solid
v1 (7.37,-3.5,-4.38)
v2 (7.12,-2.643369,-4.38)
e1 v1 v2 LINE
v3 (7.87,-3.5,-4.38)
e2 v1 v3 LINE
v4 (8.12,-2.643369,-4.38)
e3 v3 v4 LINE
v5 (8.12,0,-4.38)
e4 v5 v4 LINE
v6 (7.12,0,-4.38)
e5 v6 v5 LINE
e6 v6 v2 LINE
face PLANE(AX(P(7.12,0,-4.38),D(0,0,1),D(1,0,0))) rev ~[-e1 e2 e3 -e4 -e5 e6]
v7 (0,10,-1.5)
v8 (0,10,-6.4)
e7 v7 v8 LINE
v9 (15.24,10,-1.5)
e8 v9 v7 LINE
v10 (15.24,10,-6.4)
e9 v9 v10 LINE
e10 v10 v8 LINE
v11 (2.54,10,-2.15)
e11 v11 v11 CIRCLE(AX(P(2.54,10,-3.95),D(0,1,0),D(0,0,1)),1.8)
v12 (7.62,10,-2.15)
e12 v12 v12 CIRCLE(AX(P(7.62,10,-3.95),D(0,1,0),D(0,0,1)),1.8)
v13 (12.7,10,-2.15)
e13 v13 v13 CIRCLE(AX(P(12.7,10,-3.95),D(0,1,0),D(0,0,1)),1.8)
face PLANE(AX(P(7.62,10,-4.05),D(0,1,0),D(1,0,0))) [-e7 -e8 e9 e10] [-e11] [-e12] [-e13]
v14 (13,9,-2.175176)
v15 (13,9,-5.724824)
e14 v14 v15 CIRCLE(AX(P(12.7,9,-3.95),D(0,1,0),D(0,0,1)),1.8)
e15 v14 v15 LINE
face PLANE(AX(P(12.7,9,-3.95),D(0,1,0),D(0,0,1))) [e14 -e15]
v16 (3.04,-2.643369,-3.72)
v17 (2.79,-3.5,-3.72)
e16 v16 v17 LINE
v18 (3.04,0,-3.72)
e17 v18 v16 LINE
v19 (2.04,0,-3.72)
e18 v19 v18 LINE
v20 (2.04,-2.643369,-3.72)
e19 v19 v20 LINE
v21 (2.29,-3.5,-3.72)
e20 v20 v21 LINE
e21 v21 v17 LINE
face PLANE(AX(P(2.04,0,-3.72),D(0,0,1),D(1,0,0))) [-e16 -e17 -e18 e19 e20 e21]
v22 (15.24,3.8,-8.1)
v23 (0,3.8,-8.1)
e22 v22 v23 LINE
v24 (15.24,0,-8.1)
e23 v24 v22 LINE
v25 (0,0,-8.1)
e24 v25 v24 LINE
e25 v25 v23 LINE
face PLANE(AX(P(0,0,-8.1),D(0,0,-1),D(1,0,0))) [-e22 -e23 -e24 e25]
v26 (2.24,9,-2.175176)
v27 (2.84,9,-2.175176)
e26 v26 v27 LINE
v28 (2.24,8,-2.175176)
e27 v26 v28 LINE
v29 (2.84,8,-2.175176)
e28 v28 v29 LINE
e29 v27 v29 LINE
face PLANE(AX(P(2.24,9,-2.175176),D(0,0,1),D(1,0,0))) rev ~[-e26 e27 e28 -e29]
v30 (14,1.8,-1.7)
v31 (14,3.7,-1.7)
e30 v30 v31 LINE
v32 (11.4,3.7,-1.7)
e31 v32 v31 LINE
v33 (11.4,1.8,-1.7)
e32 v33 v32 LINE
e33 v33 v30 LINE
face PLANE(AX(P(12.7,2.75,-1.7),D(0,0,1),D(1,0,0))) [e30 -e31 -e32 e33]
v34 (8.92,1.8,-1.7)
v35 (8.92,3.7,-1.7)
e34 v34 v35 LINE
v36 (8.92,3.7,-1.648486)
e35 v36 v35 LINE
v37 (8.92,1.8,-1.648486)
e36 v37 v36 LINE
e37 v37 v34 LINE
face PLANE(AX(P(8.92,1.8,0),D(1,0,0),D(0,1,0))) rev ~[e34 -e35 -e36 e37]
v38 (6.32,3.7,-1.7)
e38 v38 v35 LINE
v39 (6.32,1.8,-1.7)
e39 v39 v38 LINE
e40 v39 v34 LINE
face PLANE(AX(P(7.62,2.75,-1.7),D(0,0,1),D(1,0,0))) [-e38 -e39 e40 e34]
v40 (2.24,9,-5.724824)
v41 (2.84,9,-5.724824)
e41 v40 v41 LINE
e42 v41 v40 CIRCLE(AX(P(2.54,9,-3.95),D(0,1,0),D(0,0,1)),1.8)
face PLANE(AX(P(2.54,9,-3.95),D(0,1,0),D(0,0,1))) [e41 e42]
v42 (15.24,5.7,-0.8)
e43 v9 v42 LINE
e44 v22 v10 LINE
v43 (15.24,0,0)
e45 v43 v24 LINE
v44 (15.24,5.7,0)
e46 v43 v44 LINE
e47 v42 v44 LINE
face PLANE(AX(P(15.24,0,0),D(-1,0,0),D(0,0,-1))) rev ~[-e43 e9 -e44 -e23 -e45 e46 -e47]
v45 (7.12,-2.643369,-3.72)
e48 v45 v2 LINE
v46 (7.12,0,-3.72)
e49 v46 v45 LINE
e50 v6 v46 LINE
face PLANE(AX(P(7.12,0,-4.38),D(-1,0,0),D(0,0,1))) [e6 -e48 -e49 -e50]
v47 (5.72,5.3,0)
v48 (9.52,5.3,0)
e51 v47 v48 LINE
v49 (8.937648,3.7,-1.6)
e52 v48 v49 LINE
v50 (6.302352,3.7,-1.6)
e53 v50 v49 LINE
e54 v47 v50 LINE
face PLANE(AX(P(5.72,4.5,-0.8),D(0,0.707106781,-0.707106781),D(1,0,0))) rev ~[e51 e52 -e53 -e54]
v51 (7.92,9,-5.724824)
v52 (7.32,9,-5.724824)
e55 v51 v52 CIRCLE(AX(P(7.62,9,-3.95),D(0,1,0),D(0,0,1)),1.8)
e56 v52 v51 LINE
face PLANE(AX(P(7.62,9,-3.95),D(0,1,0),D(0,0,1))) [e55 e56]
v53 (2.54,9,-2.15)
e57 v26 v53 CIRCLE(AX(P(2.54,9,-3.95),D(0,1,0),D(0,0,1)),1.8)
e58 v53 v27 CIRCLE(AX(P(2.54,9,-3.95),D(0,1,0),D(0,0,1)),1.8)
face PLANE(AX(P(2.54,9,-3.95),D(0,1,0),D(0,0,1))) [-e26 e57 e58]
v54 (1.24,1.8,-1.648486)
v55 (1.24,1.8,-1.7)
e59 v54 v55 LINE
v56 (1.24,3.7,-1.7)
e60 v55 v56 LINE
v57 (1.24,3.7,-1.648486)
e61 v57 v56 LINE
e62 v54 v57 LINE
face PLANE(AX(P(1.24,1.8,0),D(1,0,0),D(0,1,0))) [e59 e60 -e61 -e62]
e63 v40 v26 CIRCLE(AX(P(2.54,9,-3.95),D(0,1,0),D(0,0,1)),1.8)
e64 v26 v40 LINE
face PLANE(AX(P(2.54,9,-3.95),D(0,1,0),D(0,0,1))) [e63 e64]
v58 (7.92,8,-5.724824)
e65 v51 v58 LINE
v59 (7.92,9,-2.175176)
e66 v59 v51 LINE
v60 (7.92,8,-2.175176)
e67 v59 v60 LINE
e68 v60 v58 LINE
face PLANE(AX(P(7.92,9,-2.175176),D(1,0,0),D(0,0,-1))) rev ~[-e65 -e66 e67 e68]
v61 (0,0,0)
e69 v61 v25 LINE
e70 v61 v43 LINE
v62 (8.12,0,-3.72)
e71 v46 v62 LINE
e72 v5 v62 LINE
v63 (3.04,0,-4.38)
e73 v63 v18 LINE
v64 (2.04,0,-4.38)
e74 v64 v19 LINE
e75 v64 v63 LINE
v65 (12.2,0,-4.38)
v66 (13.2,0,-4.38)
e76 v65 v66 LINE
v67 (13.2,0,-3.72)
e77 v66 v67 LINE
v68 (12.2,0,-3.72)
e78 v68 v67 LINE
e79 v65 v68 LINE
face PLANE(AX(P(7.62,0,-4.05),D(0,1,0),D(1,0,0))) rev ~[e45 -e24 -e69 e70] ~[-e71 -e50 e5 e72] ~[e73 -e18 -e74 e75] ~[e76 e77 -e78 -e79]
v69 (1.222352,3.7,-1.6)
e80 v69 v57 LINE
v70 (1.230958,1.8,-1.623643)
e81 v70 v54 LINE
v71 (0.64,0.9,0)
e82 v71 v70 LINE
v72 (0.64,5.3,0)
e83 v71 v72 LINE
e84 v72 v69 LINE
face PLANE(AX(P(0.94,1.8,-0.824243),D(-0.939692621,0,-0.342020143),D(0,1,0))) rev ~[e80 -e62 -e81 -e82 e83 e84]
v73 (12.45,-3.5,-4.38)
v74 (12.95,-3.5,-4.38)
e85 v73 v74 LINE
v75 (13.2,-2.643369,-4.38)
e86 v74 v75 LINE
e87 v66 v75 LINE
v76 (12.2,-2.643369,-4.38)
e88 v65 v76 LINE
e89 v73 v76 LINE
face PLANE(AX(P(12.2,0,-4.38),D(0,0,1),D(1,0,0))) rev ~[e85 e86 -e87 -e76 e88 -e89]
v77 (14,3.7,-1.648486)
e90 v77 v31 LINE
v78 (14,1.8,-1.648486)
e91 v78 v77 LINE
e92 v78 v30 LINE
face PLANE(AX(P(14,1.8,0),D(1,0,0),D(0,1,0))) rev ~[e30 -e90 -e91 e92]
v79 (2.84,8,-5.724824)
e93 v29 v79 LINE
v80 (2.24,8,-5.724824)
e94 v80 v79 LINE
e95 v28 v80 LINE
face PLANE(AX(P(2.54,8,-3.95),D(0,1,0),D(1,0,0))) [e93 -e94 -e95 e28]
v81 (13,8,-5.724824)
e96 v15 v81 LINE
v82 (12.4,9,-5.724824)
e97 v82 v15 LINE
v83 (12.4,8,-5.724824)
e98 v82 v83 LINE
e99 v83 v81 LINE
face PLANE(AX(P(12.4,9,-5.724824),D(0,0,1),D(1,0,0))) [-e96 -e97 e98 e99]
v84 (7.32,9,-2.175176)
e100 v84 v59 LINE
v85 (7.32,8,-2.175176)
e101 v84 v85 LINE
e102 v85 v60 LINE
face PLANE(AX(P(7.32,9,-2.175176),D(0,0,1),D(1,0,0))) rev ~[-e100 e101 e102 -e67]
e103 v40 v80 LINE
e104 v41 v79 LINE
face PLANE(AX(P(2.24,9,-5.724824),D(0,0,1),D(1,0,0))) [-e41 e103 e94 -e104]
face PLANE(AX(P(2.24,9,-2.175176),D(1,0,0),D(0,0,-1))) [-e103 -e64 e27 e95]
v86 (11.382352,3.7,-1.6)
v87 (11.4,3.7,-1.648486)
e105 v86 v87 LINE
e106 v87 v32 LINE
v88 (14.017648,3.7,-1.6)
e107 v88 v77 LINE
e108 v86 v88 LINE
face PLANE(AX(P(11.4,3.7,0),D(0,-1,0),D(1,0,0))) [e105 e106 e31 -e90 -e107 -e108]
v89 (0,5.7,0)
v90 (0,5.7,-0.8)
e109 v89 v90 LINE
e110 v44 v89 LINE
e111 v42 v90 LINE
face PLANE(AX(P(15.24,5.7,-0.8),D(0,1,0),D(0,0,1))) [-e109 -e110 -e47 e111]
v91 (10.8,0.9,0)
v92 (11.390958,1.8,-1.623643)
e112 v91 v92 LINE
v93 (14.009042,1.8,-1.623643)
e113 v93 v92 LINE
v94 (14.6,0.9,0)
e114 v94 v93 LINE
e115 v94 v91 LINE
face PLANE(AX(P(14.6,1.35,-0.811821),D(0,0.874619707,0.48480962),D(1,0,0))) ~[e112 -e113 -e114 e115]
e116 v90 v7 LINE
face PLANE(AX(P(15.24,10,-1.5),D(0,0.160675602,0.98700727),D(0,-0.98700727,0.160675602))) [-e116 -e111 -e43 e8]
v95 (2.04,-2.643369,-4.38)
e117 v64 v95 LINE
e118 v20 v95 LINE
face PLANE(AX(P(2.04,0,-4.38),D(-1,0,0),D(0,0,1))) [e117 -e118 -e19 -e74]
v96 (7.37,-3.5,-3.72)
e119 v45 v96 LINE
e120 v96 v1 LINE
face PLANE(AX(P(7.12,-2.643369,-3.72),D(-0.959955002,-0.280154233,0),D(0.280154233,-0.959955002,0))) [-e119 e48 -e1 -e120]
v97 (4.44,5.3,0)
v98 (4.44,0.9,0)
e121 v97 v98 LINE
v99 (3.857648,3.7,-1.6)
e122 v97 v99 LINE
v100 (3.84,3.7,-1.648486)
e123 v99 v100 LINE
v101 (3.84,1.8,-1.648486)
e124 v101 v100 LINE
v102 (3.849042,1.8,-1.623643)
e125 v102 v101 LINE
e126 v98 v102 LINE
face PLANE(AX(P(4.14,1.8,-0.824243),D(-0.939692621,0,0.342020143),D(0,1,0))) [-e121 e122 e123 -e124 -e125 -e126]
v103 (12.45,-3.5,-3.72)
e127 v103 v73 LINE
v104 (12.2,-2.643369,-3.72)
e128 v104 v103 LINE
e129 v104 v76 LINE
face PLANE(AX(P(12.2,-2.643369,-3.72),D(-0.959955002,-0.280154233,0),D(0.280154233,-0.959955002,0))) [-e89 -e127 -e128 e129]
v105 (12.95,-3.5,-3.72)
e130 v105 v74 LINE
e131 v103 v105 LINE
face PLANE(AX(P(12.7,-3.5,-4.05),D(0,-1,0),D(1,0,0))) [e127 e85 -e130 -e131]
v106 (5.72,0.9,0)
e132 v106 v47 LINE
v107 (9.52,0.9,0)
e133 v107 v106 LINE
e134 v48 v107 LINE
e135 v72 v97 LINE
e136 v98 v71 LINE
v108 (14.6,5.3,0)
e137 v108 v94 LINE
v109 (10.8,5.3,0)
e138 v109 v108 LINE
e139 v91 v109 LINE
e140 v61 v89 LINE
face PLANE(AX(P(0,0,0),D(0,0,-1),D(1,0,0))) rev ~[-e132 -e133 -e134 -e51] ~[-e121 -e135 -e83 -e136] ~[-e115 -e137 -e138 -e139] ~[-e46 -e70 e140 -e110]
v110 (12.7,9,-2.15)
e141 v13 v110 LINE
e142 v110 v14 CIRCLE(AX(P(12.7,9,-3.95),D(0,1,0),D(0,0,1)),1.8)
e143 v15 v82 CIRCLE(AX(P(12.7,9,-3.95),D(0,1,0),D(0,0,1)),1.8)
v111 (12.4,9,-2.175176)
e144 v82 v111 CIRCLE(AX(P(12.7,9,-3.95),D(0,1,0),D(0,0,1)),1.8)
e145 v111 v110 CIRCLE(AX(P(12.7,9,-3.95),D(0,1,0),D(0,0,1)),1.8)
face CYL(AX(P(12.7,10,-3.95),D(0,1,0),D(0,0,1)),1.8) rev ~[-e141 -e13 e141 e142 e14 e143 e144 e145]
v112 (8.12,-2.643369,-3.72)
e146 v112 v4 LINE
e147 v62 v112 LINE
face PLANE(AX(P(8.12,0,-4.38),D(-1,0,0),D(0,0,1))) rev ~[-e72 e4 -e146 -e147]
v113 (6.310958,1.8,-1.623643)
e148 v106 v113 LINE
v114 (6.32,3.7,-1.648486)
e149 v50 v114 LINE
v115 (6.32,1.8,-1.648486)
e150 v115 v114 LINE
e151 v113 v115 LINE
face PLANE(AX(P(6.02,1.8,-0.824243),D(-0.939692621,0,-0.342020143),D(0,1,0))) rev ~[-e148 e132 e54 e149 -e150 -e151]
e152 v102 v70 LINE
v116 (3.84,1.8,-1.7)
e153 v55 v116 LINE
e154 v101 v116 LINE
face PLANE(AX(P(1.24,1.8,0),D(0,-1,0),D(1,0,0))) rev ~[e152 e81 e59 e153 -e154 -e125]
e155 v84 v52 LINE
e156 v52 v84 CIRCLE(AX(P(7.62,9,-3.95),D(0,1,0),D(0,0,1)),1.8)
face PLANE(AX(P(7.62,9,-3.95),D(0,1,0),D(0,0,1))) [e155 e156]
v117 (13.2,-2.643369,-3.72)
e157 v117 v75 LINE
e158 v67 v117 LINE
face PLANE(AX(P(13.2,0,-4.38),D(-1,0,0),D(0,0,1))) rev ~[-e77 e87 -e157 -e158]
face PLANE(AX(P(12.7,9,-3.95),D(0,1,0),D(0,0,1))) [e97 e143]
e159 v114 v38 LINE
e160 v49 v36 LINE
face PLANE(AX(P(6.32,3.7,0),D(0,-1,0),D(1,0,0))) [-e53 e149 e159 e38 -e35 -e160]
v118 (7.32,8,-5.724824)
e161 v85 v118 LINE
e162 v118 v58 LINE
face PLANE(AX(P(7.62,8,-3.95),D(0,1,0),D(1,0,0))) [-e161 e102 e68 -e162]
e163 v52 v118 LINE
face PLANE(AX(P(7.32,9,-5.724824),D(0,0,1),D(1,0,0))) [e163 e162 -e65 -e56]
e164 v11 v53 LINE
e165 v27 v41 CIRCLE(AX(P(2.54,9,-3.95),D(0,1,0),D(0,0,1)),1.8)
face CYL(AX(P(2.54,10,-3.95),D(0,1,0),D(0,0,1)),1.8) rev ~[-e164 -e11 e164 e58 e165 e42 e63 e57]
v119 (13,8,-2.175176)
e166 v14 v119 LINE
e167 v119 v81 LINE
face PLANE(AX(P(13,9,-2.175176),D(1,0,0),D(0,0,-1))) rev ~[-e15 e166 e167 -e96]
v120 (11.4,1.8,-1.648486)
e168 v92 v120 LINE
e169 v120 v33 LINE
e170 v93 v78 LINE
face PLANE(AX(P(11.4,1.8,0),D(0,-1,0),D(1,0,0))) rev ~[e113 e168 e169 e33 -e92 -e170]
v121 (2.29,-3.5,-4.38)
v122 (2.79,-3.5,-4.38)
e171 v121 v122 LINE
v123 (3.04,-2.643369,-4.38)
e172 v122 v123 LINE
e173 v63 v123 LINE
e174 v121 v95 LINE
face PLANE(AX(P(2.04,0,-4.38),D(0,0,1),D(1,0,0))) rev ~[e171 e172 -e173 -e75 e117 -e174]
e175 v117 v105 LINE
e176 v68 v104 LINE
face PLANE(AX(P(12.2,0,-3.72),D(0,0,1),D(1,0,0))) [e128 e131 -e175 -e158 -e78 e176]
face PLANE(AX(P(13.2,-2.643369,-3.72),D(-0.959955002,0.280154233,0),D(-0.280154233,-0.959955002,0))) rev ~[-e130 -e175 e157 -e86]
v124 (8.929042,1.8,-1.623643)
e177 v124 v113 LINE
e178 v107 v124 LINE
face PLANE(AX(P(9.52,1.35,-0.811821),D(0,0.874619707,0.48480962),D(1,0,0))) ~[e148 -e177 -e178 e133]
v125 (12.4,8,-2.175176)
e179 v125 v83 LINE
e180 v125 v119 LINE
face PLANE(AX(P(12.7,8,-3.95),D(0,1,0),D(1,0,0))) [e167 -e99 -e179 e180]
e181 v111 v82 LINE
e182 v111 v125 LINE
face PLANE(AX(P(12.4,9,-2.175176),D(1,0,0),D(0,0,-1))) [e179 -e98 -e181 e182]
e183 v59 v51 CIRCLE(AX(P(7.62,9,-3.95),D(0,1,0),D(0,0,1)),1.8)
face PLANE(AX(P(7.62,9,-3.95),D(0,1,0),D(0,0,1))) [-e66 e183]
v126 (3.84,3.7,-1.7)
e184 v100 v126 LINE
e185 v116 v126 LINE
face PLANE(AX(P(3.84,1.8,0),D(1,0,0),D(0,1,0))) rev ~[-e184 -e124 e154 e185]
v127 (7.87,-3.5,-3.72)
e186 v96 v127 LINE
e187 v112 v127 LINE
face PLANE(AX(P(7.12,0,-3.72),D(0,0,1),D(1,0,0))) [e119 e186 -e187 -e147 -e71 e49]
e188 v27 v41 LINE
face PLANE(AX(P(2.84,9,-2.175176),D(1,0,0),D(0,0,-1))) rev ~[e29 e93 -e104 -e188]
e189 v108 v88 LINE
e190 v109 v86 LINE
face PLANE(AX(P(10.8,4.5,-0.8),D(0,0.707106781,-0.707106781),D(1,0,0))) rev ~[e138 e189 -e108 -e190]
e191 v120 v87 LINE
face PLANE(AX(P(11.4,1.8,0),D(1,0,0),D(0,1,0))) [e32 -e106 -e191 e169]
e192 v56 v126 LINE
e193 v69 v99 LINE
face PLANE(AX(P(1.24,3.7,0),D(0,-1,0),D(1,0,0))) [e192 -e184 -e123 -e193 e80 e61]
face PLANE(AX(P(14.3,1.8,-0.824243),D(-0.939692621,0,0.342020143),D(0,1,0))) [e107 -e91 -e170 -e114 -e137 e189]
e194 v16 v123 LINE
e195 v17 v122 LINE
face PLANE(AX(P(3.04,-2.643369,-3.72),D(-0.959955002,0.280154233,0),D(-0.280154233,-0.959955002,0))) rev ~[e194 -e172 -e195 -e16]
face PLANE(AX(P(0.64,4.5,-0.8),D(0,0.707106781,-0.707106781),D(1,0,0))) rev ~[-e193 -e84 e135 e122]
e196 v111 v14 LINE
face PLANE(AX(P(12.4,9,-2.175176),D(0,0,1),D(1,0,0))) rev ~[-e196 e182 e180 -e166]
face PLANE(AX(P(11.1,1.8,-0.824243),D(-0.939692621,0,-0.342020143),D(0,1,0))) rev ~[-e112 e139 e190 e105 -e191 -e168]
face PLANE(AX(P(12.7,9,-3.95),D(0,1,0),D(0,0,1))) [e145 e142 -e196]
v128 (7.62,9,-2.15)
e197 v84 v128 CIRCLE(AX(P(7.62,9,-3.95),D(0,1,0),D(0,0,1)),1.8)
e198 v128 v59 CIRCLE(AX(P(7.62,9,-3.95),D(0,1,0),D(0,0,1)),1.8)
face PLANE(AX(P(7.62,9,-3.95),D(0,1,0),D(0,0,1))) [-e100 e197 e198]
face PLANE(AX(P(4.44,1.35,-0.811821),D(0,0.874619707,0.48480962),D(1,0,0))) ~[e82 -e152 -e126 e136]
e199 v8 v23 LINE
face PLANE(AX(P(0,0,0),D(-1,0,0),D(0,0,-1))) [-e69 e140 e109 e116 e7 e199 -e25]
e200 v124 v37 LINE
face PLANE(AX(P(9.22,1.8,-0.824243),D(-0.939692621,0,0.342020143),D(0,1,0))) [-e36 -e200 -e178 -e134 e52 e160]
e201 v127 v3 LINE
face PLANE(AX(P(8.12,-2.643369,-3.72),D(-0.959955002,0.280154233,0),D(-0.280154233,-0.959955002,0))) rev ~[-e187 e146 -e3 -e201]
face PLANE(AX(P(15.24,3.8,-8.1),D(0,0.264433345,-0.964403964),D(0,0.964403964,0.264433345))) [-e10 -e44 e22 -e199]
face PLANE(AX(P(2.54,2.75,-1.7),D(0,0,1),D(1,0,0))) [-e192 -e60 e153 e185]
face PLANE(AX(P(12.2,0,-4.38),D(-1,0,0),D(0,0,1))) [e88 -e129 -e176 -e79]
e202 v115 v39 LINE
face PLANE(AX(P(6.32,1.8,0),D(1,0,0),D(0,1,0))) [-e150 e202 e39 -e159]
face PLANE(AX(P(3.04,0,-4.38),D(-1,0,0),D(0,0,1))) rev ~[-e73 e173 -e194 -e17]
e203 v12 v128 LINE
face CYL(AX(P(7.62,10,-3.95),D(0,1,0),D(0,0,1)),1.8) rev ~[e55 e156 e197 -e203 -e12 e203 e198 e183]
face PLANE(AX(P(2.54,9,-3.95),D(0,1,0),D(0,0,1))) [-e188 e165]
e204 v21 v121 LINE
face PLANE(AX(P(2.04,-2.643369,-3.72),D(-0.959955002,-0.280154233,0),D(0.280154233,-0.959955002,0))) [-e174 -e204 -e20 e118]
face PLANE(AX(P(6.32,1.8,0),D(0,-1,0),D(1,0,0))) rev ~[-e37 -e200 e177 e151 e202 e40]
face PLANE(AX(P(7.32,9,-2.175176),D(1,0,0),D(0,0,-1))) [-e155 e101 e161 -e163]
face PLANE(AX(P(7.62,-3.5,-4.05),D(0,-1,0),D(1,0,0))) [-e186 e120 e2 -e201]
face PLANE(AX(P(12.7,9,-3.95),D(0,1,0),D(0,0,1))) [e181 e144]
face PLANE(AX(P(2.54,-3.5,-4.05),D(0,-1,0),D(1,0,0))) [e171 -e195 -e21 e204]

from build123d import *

# Parameters (mm, degrees)
SKETCH1_W                   = 15.24
SKETCH1_H                   = 8.1
BOSS_EXTRUDE1_DEPTH         = 10
CUT_EXTRUDE1_DEPTH          = 20.946618761
CUT_EXTRUDE2_DEPTH          = 20.946618761
SKETCH4_W                   = 1
SKETCH4_H                   = 0.66
BOSS_EXTRUDE2_DEPTH         = 3.5
CUT_EXTRUDE3_REACH          = 20.747
LPATTERN1_COUNT             = 3
LPATTERN1_PITCH             = 5.08
SKETCH6_W                   = 2.6
SKETCH6_H                   = 1.9
CUT_EXTRUDE4_DEPTH          = 1.7
CHAMFER1_SIZE               = 0.6
CHAMFER1_SIZE2              = 1.648486452
CHAMFER2_SIZE               = 0.6
CHAMFER2_SIZE2              = 1.648486452
CHAMFER3_SIZE               = 1.6
CHAMFER4_SIZE               = 0.9
CHAMFER4_SIZE2              = 1.62364298
LPATTERN2_COUNT             = 3
LPATTERN2_PITCH             = 5.08
CHAMFER1_OF_LPATTERN2_SIZE2 = 1.648486452
CHAMFER1_OF_LPATTERN2_SIZE  = 0.6
CHAMFER2_OF_LPATTERN2_SIZE2 = 1.648486452
CHAMFER2_OF_LPATTERN2_SIZE  = 0.6
CHAMFER3_OF_LPATTERN2_SIZE  = 1.6
CHAMFER4_OF_LPATTERN2_SIZE2 = 1.62364298
CHAMFER4_OF_LPATTERN2_SIZE  = 0.9
SKETCH7_R                   = 1.8
CUT_EXTRUDE5_DEPTH          = 1
SKETCH8_W                   = 0.6
SKETCH8_H                   = 3.54964787
CUT_EXTRUDE6_DEPTH          = 1
LPATTERN3_COUNT             = 3
LPATTERN3_PITCH             = 5.08


with BuildPart() as part:
    # Sketch1 → Boss-Extrude1 (new body)
    with BuildSketch(Plane(origin=(0, 0, 0), x_dir=(1, 0, 0), z_dir=(0, 1, 0))):
        with Locations((7.62, 4.05)):
            Rectangle(SKETCH1_W, SKETCH1_H)
    extrude(amount=BOSS_EXTRUDE1_DEPTH)

    # Sketch2 → Cut-Extrude1 (cut, through all)
    with BuildSketch(Plane(origin=(15.24, 0, 0), x_dir=(0, 0, -1), z_dir=(1, 0, 0))):
        Polygon((0, 10), (1.5, 10), (0.8, 5.7), (0, 5.7), align=None)
    extrude(amount=-CUT_EXTRUDE1_DEPTH, mode=Mode.SUBTRACT)

    # Sketch3 → Cut-Extrude2 (cut, through all)
    with BuildSketch(Plane(origin=(15.24, 0, 0), x_dir=(0, 0, -1), z_dir=(1, 0, 0))):
        Polygon((8.1, 3.8), (6.4, 10), (8.1, 10), align=None)
    extrude(amount=-CUT_EXTRUDE2_DEPTH, mode=Mode.SUBTRACT)

    # Sketch4 → Boss-Extrude2 (add)
    with BuildSketch(Plane.XZ):
        with Locations((2.54, -4.05)):
            Rectangle(SKETCH4_W, SKETCH4_H)
    boss_extrude2 = extrude(amount=BOSS_EXTRUDE2_DEPTH)

    # Sketch5 → Cut-Extrude3 (cut, up to next)
    with BuildSketch(Plane.XY.offset(-3.72), mode=Mode.PRIVATE) as cut_extrude3_sk1:
        Polygon((2.04, -2.643369181), (2.29, -3.5), (2.04, -3.5), align=None)
    cut_extrude3_tool1 = extrude(cut_extrude3_sk1.sketch, amount=-CUT_EXTRUDE3_REACH, mode=Mode.PRIVATE) & part.part
    # Sketch5 → Cut-Extrude3 (cut, up to next)
    with BuildSketch(Plane.XY.offset(-3.72), mode=Mode.PRIVATE) as cut_extrude3_sk2:
        Polygon((2.79, -3.5), (3.04, -3.5), (3.04, -2.643369181), align=None)
    cut_extrude3_tool2 = extrude(cut_extrude3_sk2.sketch, amount=-CUT_EXTRUDE3_REACH, mode=Mode.PRIVATE) & part.part
    cut_extrude3_1 = cut_extrude3_tool1.solids().sort_by_distance((2.123333, -3.214456, -3.72))[0]
    add(cut_extrude3_1, mode=Mode.SUBTRACT)
    cut_extrude3_2 = cut_extrude3_tool2.solids().sort_by_distance((2.956667, -3.214456, -3.72))[0]
    add(cut_extrude3_2, mode=Mode.SUBTRACT)
    cut_extrude3 = cut_extrude3_1 + cut_extrude3_2  # Cut-Extrude3 as one shape, for the pattern or mirror that repeats it

    # LPattern1: Boss-Extrude2, Cut-Extrude3 ×3
    with Locations(*[(i * LPATTERN1_PITCH, 0, 0) for i in range(1, LPATTERN1_COUNT)]):
        add(boss_extrude2)
        add(cut_extrude3, mode=Mode.SUBTRACT)

    # Sketch6 → Cut-Extrude4 (cut)
    with BuildSketch(Plane.XY):
        with Locations((2.54, 2.75)):
            Rectangle(SKETCH6_W, SKETCH6_H)
    cut_extrude4 = extrude(amount=-CUT_EXTRUDE4_DEPTH, mode=Mode.SUBTRACT)

    # Chamfer1
    chamfer1_edges = [part.edges().sort_by_distance(p)[0] for p in [
        (1.24, 2.75, 0),
    ]]
    chamfer1_side = [part.faces().sort_by_distance(p)[0] for p in [
        (7.926307978, 2.856029685, 0),
    ]]
    chamfer(chamfer1_edges, length=CHAMFER1_SIZE, length2=CHAMFER1_SIZE2, reference=chamfer1_side[0])

    # Chamfer2
    chamfer2_edges = [part.edges().sort_by_distance(p)[0] for p in [
        (3.84, 2.75, 0),
    ]]
    chamfer2_side = [part.faces().sort_by_distance(p)[0] for p in [
        (8.024891816, 2.85752587, 0),
    ]]
    chamfer(chamfer2_edges, length=CHAMFER2_SIZE, length2=CHAMFER2_SIZE2, reference=chamfer2_side[0])

    # Chamfer3
    chamfer3_edges = [part.edges().sort_by_distance(p)[0] for p in [
        (2.54, 3.7, 0),
    ]]
    chamfer(chamfer3_edges, length=CHAMFER3_SIZE)

    # Chamfer4
    chamfer4_edges = [part.edges().sort_by_distance(p)[0] for p in [
        (2.54, 1.8, 0),
    ]]
    chamfer4_side = [part.faces().sort_by_distance(p)[0] for p in [
        (8.53838843, 2.723450413, 0),
    ]]
    chamfer(chamfer4_edges, length=CHAMFER4_SIZE, length2=CHAMFER4_SIZE2, reference=chamfer4_side[0])

    # LPattern2: Cut-Extrude4 ×3
    with Locations(*[(i * LPATTERN2_PITCH, 0, 0) for i in range(1, LPATTERN2_COUNT)]):
        add(cut_extrude4, mode=Mode.SUBTRACT)

    # Chamfer1 of LPattern2
    chamfer1_of_lpattern2_edges = [part.edges().sort_by_distance(p)[0] for p in [
        (6.32, 2.75, 0),
        (11.4, 2.75, 0),
    ]]
    chamfer(chamfer1_of_lpattern2_edges, length=CHAMFER1_OF_LPATTERN2_SIZE, length2=CHAMFER1_OF_LPATTERN2_SIZE2)

    # Chamfer2 of LPattern2
    chamfer2_of_lpattern2_edges = [part.edges().sort_by_distance(p)[0] for p in [
        (8.92, 2.75, 0),
        (14, 2.75, 0),
    ]]
    chamfer(chamfer2_of_lpattern2_edges, length=CHAMFER2_OF_LPATTERN2_SIZE, length2=CHAMFER2_OF_LPATTERN2_SIZE2)

    # Chamfer3 of LPattern2
    chamfer3_of_lpattern2_edges = [part.edges().sort_by_distance(p)[0] for p in [
        (7.62, 3.7, 0),
        (12.7, 3.7, 0),
    ]]
    chamfer(chamfer3_of_lpattern2_edges, length=CHAMFER3_OF_LPATTERN2_SIZE)

    # Chamfer4 of LPattern2
    chamfer4_of_lpattern2_edges = [part.edges().sort_by_distance(p)[0] for p in [
        (7.62, 1.8, 0),
        (12.7, 1.8, 0),
    ]]
    chamfer(chamfer4_of_lpattern2_edges, length=CHAMFER4_OF_LPATTERN2_SIZE, length2=CHAMFER4_OF_LPATTERN2_SIZE2)

    # Sketch7 → Cut-Extrude5 (cut)
    with BuildSketch(Plane(origin=(0, 10, 0), x_dir=(1, 0, 0), z_dir=(0, 1, 0))):
        with Locations(Location((12.7, 3.95, 0), (0, 0, 270))):
            Circle(SKETCH7_R)
    cut_extrude5 = extrude(amount=-CUT_EXTRUDE5_DEPTH, mode=Mode.SUBTRACT)

    # Sketch8 → Cut-Extrude6 (cut)
    with BuildSketch(Plane(origin=(0, 9, 0), x_dir=(1, 0, 0), z_dir=(0, 1, 0))):
        with Locations((12.7, 3.95)):
            Rectangle(SKETCH8_W, SKETCH8_H)
    cut_extrude6 = extrude(amount=-CUT_EXTRUDE6_DEPTH, mode=Mode.SUBTRACT)

    # LPattern3: Cut-Extrude5, Cut-Extrude6 ×3
    with Locations(*[(-i * LPATTERN3_PITCH, 0, 0) for i in range(1, LPATTERN3_COUNT)]):
        add(cut_extrude5, mode=Mode.SUBTRACT)
        add(cut_extrude6, mode=Mode.SUBTRACT)


solid = part.part
